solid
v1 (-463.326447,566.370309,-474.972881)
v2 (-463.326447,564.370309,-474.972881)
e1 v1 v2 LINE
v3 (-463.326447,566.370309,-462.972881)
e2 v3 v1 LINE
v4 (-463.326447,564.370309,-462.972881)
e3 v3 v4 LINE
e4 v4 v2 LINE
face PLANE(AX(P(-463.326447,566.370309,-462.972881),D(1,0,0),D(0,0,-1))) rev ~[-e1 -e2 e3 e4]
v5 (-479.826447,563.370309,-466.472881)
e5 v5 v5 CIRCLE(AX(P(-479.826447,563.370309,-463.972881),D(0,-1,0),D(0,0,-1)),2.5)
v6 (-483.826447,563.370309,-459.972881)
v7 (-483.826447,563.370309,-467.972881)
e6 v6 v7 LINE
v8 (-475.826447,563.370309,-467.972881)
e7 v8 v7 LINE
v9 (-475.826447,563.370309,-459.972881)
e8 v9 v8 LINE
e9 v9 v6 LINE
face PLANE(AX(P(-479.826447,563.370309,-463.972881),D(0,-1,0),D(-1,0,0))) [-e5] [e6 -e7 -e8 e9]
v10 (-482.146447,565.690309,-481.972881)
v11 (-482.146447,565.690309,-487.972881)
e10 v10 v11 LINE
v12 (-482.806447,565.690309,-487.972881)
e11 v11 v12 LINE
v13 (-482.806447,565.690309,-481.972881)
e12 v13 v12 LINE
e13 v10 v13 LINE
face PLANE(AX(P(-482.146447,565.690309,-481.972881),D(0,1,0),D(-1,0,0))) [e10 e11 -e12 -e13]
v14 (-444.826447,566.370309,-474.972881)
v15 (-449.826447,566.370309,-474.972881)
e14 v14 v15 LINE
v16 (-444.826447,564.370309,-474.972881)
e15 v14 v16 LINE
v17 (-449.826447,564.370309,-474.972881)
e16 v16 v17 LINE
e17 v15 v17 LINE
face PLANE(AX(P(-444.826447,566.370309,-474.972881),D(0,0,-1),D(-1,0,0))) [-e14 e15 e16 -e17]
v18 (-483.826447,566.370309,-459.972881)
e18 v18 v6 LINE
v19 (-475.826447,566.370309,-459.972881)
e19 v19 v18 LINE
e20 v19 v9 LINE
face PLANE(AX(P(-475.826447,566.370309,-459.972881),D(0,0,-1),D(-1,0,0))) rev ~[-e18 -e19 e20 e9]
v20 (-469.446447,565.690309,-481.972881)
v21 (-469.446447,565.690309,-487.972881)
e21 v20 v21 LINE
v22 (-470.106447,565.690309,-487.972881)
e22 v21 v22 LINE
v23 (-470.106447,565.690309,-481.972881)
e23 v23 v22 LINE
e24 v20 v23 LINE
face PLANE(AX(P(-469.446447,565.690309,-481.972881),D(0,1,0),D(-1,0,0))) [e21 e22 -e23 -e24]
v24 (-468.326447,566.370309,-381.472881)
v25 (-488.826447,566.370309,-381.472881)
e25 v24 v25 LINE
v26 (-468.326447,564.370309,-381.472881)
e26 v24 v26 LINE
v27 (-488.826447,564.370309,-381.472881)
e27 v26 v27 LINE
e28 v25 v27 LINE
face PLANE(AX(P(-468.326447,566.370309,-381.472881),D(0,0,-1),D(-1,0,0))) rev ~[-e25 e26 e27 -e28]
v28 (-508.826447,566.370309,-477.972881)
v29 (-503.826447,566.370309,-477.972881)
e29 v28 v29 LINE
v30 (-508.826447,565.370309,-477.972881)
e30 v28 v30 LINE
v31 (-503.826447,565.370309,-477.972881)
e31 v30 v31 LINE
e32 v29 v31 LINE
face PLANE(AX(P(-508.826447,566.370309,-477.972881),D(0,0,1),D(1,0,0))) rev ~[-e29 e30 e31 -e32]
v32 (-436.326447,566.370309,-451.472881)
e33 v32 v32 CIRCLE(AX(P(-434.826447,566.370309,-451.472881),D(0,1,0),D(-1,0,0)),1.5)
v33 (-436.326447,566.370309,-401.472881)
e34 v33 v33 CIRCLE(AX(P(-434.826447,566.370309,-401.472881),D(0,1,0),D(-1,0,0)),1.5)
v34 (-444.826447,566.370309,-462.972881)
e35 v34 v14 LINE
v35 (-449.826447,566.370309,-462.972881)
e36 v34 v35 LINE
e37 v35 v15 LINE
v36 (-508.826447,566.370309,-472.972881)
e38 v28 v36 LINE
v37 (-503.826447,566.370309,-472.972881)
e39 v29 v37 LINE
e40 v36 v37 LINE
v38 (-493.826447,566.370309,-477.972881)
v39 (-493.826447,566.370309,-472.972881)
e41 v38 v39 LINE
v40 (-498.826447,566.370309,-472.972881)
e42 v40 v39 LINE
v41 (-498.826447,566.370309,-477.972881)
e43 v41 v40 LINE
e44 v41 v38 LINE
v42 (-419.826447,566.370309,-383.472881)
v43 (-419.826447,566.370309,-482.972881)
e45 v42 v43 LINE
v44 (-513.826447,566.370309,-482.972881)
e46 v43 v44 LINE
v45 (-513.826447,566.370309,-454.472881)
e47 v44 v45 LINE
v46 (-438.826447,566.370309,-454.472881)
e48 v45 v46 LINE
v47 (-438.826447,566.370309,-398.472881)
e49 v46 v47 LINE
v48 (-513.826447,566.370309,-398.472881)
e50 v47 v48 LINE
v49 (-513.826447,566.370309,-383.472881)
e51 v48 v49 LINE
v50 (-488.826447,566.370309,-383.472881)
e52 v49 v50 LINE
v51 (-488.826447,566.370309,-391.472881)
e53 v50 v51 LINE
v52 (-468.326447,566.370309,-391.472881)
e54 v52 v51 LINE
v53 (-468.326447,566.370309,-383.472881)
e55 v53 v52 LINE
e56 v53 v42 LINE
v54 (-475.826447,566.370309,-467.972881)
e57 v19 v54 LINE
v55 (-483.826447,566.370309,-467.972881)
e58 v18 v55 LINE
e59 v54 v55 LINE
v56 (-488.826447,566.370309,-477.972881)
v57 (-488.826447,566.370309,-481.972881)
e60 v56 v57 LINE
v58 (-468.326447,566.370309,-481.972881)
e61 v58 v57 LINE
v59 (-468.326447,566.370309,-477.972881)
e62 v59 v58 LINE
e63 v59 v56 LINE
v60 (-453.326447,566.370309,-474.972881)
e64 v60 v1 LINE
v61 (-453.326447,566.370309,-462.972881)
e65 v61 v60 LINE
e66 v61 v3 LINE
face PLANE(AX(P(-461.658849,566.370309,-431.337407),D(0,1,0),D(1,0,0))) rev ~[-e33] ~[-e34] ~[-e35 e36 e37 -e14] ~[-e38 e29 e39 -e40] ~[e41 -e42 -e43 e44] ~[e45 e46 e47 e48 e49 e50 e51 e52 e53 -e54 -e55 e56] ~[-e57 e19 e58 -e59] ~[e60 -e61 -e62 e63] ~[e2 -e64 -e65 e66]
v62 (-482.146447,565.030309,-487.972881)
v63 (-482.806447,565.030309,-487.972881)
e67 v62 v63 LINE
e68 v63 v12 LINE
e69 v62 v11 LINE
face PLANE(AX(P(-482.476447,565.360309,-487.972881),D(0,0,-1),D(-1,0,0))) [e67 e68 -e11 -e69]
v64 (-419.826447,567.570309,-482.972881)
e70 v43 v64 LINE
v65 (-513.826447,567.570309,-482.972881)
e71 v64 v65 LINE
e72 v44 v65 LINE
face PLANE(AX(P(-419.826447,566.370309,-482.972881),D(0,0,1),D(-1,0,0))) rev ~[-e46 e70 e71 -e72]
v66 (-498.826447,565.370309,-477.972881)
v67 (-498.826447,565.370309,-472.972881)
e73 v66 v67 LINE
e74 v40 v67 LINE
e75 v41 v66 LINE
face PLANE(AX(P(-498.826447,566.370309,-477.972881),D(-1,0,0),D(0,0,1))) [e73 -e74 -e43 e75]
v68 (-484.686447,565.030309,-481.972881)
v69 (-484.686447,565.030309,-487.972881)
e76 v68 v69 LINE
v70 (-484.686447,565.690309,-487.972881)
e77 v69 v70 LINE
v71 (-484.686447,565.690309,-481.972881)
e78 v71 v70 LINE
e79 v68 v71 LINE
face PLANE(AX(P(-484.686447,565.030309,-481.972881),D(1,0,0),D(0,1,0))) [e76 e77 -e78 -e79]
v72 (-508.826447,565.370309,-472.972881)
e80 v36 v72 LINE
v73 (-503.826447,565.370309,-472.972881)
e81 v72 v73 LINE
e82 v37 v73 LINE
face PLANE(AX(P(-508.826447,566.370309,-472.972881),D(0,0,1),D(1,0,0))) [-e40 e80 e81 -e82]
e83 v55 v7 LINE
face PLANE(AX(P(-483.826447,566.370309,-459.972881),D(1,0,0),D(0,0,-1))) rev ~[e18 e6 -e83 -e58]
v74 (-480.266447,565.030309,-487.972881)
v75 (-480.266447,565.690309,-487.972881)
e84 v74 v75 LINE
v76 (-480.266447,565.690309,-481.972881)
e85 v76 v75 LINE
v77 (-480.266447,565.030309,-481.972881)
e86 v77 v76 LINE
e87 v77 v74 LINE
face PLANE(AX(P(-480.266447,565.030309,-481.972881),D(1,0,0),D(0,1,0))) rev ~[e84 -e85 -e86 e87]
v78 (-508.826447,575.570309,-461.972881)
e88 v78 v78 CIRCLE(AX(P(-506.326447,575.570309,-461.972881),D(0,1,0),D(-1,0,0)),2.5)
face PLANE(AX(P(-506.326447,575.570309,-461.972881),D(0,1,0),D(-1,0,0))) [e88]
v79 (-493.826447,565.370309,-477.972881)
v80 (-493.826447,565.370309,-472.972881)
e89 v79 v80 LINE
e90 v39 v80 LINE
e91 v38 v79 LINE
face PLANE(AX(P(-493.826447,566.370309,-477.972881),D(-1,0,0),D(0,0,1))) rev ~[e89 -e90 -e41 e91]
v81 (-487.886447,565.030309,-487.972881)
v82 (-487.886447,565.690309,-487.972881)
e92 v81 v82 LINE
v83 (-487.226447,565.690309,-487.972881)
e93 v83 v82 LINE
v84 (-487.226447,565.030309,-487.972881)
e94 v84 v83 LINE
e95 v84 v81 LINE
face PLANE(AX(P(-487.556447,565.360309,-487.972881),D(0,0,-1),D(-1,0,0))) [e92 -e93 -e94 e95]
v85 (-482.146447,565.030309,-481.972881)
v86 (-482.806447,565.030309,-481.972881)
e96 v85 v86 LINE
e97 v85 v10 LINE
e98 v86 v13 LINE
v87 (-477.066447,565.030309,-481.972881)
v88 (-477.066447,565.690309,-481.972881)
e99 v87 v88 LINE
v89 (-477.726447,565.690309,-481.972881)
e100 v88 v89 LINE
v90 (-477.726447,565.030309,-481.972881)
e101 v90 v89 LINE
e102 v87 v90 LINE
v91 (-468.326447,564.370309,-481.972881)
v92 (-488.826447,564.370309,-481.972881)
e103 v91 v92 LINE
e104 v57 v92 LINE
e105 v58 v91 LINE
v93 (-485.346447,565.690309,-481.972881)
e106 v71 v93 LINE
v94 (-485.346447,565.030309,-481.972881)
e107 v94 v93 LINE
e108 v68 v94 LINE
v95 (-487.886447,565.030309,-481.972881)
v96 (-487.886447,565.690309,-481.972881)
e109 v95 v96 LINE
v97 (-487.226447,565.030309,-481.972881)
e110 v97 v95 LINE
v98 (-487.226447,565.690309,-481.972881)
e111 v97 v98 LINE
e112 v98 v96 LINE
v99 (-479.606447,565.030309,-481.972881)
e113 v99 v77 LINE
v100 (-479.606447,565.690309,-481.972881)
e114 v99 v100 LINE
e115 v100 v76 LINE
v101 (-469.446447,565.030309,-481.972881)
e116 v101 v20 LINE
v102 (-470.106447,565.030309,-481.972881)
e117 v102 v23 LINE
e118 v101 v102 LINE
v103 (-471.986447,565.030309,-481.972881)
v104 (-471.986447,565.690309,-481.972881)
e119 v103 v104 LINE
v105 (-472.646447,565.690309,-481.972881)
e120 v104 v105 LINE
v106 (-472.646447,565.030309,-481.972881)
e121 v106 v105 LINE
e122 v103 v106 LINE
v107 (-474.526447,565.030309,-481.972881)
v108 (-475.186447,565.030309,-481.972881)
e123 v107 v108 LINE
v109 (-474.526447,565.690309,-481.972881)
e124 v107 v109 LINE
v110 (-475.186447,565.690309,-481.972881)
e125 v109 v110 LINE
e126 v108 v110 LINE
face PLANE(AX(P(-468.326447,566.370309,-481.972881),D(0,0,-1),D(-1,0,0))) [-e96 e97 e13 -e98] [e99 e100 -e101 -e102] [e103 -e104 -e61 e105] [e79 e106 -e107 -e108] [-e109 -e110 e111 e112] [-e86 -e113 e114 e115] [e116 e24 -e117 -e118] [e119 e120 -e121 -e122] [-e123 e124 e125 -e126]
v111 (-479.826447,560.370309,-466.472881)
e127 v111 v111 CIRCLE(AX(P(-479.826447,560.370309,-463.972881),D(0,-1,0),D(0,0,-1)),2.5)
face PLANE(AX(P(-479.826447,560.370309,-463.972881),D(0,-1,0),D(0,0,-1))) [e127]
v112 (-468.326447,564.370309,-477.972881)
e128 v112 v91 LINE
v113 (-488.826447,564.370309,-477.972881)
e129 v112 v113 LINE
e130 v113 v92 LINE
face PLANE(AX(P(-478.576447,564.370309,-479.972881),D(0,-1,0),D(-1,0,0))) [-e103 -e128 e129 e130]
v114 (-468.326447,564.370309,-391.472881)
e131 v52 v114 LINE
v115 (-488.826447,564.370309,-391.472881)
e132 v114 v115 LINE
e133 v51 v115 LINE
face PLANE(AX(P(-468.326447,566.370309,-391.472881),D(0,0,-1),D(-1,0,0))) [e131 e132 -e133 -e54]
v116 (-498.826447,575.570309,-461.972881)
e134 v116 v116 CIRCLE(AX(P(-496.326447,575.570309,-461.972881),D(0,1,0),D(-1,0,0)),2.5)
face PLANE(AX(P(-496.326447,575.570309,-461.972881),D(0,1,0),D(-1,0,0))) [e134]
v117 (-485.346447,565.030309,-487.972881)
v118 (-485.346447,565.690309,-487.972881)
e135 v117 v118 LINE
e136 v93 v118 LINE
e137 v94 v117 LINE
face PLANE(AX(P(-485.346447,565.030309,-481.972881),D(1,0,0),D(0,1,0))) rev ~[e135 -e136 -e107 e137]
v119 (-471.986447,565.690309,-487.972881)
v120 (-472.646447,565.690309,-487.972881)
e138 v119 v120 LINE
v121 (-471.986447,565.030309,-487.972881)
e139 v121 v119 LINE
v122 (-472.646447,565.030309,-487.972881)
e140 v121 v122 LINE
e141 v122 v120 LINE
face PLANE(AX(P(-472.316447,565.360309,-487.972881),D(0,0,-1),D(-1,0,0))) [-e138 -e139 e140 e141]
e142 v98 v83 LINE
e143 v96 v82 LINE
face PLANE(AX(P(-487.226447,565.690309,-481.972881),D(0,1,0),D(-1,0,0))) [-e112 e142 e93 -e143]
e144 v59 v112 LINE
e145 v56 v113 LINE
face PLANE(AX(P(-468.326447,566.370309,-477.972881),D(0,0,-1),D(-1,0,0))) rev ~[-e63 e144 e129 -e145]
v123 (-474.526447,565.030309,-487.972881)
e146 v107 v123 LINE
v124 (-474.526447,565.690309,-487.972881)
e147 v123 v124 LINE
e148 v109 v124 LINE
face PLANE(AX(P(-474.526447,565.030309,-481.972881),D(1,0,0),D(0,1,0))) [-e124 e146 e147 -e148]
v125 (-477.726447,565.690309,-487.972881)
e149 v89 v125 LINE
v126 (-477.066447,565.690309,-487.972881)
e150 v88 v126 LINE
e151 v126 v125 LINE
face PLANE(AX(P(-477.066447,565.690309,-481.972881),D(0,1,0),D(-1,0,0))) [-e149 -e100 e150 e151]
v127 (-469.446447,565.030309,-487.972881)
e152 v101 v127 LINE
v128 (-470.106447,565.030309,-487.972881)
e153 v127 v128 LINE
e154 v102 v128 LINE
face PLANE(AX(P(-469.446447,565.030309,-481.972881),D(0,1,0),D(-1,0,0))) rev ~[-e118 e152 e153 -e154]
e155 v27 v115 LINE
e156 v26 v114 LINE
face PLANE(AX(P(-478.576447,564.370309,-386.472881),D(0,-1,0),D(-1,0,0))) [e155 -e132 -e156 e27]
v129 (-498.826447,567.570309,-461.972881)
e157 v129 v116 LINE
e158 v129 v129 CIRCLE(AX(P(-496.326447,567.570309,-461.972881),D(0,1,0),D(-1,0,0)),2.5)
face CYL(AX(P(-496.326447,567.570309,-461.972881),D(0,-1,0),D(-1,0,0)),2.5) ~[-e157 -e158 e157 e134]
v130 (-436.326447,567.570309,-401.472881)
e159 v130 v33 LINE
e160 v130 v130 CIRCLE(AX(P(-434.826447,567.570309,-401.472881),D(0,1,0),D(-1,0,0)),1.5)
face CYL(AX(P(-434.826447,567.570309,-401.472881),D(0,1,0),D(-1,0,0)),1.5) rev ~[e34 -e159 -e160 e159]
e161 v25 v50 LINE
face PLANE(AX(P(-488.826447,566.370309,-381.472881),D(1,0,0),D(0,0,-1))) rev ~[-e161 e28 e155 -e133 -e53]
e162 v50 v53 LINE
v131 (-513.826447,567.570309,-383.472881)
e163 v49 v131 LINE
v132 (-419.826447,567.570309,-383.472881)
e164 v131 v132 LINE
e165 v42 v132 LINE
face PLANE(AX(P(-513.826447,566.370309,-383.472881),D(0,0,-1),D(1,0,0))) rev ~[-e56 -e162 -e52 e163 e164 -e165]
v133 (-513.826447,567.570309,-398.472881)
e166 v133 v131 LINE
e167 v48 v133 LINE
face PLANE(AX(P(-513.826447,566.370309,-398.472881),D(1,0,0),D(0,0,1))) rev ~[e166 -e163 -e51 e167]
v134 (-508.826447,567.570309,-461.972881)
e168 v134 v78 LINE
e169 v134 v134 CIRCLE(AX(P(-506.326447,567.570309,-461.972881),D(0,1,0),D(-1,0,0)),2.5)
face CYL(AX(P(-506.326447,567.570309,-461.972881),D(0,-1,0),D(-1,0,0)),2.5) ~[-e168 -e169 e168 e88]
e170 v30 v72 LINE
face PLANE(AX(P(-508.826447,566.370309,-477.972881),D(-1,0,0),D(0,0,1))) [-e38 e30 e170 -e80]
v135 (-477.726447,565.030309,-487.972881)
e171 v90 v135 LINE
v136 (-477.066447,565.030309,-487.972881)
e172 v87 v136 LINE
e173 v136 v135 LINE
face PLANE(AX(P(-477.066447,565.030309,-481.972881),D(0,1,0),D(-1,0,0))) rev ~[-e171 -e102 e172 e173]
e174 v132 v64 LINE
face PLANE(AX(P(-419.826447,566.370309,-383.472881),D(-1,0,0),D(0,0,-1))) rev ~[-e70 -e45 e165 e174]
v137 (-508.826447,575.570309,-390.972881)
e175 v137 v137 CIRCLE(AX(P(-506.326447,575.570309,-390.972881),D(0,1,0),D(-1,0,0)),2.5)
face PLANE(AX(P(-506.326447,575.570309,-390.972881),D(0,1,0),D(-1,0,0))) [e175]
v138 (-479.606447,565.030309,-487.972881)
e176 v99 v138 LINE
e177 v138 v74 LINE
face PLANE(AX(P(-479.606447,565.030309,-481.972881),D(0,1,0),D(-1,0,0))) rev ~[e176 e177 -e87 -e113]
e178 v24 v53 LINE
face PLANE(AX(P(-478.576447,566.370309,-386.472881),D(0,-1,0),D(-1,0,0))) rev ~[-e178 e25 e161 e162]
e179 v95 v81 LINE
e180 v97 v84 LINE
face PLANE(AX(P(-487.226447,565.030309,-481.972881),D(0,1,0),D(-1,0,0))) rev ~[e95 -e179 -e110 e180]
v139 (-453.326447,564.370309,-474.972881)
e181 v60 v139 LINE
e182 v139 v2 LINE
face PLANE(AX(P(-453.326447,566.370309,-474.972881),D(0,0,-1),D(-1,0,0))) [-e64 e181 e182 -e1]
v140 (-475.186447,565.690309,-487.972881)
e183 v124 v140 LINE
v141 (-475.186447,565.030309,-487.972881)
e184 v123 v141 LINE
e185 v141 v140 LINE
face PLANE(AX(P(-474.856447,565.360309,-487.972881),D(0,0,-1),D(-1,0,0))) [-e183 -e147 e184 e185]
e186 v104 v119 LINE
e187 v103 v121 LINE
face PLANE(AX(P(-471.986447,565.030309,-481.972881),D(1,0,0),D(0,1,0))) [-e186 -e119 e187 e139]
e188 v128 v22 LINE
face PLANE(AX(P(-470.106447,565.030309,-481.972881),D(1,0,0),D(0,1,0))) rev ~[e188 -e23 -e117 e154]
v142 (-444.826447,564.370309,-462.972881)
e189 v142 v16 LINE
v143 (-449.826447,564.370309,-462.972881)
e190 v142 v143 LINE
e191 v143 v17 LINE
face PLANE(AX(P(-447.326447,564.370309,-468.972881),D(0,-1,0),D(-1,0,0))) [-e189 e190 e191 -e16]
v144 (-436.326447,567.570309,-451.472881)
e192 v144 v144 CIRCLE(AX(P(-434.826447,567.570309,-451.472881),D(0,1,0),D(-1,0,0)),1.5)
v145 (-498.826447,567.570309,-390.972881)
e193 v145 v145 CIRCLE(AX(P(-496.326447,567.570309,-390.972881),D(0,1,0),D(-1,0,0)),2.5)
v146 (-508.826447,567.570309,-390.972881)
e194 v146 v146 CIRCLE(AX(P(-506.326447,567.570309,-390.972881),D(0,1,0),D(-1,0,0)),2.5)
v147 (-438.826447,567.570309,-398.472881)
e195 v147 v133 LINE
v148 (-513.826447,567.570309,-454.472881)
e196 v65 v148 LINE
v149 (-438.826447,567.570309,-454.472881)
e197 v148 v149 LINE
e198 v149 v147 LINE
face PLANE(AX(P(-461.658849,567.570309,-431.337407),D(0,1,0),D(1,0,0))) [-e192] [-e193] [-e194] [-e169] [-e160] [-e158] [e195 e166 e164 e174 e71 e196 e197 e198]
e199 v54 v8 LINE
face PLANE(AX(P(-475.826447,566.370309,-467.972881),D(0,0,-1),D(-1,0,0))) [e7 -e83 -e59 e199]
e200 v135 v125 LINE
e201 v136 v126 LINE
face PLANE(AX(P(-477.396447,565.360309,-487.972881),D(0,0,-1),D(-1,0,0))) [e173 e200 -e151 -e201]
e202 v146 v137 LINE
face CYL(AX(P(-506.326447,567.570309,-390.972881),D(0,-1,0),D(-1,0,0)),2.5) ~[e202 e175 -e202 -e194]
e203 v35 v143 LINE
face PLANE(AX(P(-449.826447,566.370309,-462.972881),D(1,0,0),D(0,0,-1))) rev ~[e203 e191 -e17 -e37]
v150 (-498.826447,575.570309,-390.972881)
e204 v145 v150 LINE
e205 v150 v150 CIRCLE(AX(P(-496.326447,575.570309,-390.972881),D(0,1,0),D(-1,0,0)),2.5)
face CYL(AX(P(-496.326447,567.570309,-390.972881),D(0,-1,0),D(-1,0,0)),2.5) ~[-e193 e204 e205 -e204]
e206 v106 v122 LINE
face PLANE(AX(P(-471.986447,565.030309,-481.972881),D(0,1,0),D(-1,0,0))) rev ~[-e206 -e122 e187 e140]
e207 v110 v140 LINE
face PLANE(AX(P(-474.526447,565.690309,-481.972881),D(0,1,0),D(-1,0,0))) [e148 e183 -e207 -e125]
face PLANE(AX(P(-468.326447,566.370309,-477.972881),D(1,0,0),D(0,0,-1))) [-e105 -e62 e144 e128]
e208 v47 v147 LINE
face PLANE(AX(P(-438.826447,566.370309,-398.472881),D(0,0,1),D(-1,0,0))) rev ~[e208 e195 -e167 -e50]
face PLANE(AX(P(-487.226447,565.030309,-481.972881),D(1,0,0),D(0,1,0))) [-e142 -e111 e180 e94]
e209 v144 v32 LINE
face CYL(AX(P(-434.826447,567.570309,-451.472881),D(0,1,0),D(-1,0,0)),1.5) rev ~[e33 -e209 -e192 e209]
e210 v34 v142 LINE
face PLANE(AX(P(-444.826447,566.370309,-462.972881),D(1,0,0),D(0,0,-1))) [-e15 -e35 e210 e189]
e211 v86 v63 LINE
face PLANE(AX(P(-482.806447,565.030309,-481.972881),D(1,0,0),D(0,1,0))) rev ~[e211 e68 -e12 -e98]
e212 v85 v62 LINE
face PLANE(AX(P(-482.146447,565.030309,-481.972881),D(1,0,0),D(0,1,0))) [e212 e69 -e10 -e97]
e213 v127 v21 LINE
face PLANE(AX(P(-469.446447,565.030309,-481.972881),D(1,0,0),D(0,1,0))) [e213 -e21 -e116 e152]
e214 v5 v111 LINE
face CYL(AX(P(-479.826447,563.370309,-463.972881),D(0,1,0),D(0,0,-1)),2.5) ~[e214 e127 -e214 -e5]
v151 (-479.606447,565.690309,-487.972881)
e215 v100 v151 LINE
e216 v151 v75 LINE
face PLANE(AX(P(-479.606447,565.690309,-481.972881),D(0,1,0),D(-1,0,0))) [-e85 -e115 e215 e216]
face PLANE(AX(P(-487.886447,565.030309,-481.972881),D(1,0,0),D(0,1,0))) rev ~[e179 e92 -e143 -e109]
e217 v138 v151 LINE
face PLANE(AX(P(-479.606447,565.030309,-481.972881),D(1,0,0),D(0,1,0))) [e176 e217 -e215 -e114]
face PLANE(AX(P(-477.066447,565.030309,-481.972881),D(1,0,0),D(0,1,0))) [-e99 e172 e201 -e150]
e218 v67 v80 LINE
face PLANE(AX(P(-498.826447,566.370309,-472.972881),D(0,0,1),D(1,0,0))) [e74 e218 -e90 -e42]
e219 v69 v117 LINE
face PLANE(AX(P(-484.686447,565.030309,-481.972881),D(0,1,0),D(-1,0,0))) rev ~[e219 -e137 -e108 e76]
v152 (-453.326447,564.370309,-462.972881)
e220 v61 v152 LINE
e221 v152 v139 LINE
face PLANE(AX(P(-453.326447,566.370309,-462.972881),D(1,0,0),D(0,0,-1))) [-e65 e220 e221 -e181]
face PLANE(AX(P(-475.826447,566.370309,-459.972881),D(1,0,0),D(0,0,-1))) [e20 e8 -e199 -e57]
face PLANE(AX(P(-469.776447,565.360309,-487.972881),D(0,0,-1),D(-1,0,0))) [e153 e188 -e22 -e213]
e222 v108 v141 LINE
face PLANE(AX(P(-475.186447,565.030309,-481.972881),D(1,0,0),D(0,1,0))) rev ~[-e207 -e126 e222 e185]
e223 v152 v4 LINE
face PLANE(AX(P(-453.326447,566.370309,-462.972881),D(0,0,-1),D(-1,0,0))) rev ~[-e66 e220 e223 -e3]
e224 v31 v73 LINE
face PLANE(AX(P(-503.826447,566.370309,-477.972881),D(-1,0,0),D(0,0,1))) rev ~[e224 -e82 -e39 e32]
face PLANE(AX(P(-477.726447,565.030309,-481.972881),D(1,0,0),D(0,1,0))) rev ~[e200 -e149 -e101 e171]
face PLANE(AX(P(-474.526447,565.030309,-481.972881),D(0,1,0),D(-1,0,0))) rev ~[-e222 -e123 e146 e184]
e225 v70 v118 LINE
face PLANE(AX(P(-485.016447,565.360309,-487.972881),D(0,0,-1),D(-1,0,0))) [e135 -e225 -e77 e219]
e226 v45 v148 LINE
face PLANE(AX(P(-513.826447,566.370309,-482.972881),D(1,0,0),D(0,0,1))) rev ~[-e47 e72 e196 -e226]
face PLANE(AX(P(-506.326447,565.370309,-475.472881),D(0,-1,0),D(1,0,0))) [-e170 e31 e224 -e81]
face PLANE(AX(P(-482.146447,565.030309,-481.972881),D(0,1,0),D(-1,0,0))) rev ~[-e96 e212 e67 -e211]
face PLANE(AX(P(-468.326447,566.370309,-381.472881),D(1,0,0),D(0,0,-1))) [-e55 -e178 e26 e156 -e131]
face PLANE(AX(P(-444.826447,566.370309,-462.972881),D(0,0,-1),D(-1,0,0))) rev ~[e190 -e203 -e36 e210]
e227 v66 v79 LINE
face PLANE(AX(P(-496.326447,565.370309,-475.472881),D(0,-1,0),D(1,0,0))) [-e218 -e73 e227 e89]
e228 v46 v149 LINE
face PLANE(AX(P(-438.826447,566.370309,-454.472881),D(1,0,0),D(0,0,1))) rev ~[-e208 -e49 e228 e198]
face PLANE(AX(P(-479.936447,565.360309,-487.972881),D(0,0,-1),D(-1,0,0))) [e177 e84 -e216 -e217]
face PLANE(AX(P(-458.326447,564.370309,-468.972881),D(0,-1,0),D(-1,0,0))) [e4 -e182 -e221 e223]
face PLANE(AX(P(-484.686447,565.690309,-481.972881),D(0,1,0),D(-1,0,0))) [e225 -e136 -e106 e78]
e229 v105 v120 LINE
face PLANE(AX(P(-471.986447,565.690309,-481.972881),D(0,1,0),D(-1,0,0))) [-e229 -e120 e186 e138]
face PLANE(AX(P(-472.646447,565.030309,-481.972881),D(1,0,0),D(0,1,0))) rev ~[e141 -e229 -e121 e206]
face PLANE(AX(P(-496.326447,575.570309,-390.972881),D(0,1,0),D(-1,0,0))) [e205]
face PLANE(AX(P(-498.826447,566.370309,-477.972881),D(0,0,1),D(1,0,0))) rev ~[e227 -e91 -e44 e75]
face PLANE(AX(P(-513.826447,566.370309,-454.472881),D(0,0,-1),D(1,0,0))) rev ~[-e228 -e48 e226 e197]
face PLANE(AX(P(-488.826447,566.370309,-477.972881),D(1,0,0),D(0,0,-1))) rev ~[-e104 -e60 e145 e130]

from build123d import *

# Parameters (mm, degrees)
DODANIE_WYCI_GNI_CIE1_DEPTH = 1.2
SZKIC3_R                    = 2.5
DODANIE_WYCI_GNI_CIE2_DEPTH = 8
SZKIC4_R                    = 1.5
WYTNIJ_WYCI_GNI_CIE1_DEPTH  = 706.226503642
SZKIC5_W                    = 5
SZKIC5_H                    = 5
DODANIE_WYCI_GNI_CIE3_DEPTH = 1
SZKIC6_W                    = 8
SZKIC6_H                    = 8
DODANIE_WYCI_GNI_CIE4_DEPTH = 3
SZKIC7_R                    = 2.5
DODANIE_WYCI_GNI_CIE5_DEPTH = 3
SZKIC8_W                    = 20.5
SZKIC8_H                    = 4
SZKIC8_H_2                  = 10
DODANIE_WYCI_GNI_CIE6_DEPTH = 2
SZKIC9_W                    = 0.66
SZKIC9_H                    = 0.66
DODANIE_WYCI_GNI_CIE7_DEPTH = 6
SZYK_LINIOWY1_COUNT         = 8
SZYK_LINIOWY1_PITCH         = 2.54
SZKIC10_W                   = 10
SZKIC10_H                   = 12
SZKIC10_W_2                 = 5
DODANIE_WYCI_GNI_CIE8_DEPTH = 2


with BuildPart() as part:
    # Szkic2 → Dodanie-wyciągnięcie1 (new body)
    with BuildSketch(Plane(origin=(0, 566.370308932, 0), x_dir=(1, 0, 0), z_dir=(0, 1, 0))):
        Polygon((-513.826446608, 398.472881439), (-513.826446608, 383.472881439), (-419.826446608, 383.472881439), (-419.826446608, 482.972881439), (-513.826446608, 482.972881439), (-513.826446608, 454.472881439), (-438.826446608, 454.472881439), (-438.826446608, 398.472881439), align=None)
    extrude(amount=DODANIE_WYCI_GNI_CIE1_DEPTH)

    # Szkic3 → Dodanie-wyciągnięcie2 (add)
    with BuildSketch(Plane(origin=(0, 567.570308932, 0), x_dir=(1, 0, 0), z_dir=(0, 1, 0))):
        with Locations(Location((-506.326446608, 461.972881439, 0), (0, 0, 180))):
            Circle(SZKIC3_R)
        with Locations(Location((-496.326446608, 461.972881439, 0), (0, 0, 180))):
            Circle(SZKIC3_R)
        with Locations(Location((-496.326446608, 390.972881439, 0), (0, 0, 180))):
            Circle(SZKIC3_R)
        with Locations(Location((-506.326446608, 390.972881439, 0), (0, 0, 180))):
            Circle(SZKIC3_R)
    extrude(amount=DODANIE_WYCI_GNI_CIE2_DEPTH)

    # Szkic4 → Wytnij-wyciągnięcie1 (cut, through all)
    with BuildSketch(Plane(origin=(0, 567.570308932, 0), x_dir=(1, 0, 0), z_dir=(0, 1, 0))):
        with Locations(Location((-434.826446608, 401.472881439, 0), (0, 0, 180))):
            Circle(SZKIC4_R)
        with Locations(Location((-434.826446608, 451.472881439, 0), (0, 0, 180))):
            Circle(SZKIC4_R)
    extrude(amount=-WYTNIJ_WYCI_GNI_CIE1_DEPTH, mode=Mode.SUBTRACT)

    # Szkic5 → Dodanie-wyciągnięcie3 (add)
    with BuildSketch(Plane.XZ.offset(-566.370308932)):
        with Locations((-506.326446608, -475.472881439)):
            Rectangle(SZKIC5_W, SZKIC5_H)
        with Locations((-496.326446608, -475.472881439)):
            Rectangle(SZKIC5_W, SZKIC5_H)
    extrude(amount=DODANIE_WYCI_GNI_CIE3_DEPTH)

    # Szkic6 → Dodanie-wyciągnięcie4 (add)
    with BuildSketch(Plane(origin=(0, 566.370308932, 0), x_dir=(-1, 0, 0), z_dir=(0, -1, 0))):
        with Locations((479.826446608, 463.972881439)):
            Rectangle(SZKIC6_W, SZKIC6_H)
    extrude(amount=DODANIE_WYCI_GNI_CIE4_DEPTH)

    # Szkic7 → Dodanie-wyciągnięcie5 (add)
    with BuildSketch(Plane.XZ.offset(-563.370308932)):
        with Locations(Location((-479.826446608, -463.972881439, 0), (0, 0, 270))):
            Circle(SZKIC7_R)
    extrude(amount=DODANIE_WYCI_GNI_CIE5_DEPTH)

    # Szkic8 → Dodanie-wyciągnięcie6 (add)
    with BuildSketch(Plane(origin=(0, 566.370308932, 0), x_dir=(-1, 0, 0), z_dir=(0, -1, 0))):
        with Locations((478.576446608, 479.972881439)):
            Rectangle(SZKIC8_W, SZKIC8_H)
        with Locations((478.576446608, 386.472881439)):
            Rectangle(SZKIC8_W, SZKIC8_H_2)
    extrude(amount=DODANIE_WYCI_GNI_CIE6_DEPTH)

    # Szkic9 → Dodanie-wyciągnięcie7 (add)
    with BuildSketch(Plane(origin=(0, 0, -481.972881439), x_dir=(-1, 0, 0), z_dir=(0, 0, -1))):
        with Locations((487.556446608, 565.360308932)):
            Rectangle(SZKIC9_W, SZKIC9_H)
    dodanie_wyci_gni_cie7 = extrude(amount=DODANIE_WYCI_GNI_CIE7_DEPTH)

    # Szyk liniowy1: Dodanie-wyciągnięcie7 ×8
    with Locations(*[(i * SZYK_LINIOWY1_PITCH, 0, 0) for i in range(1, SZYK_LINIOWY1_COUNT)]):
        add(dodanie_wyci_gni_cie7)

    # Szkic10 → Dodanie-wyciągnięcie8 (add)
    with BuildSketch(Plane(origin=(0, 566.370308932, 0), x_dir=(-1, 0, 0), z_dir=(0, -1, 0))):
        with Locations((458.326446608, 468.972881439)):
            Rectangle(SZKIC10_W, SZKIC10_H)
        with Locations((447.326446608, 468.972881439)):
            Rectangle(SZKIC10_W_2, SZKIC10_H)
    extrude(amount=DODANIE_WYCI_GNI_CIE8_DEPTH)


solid = part.part
